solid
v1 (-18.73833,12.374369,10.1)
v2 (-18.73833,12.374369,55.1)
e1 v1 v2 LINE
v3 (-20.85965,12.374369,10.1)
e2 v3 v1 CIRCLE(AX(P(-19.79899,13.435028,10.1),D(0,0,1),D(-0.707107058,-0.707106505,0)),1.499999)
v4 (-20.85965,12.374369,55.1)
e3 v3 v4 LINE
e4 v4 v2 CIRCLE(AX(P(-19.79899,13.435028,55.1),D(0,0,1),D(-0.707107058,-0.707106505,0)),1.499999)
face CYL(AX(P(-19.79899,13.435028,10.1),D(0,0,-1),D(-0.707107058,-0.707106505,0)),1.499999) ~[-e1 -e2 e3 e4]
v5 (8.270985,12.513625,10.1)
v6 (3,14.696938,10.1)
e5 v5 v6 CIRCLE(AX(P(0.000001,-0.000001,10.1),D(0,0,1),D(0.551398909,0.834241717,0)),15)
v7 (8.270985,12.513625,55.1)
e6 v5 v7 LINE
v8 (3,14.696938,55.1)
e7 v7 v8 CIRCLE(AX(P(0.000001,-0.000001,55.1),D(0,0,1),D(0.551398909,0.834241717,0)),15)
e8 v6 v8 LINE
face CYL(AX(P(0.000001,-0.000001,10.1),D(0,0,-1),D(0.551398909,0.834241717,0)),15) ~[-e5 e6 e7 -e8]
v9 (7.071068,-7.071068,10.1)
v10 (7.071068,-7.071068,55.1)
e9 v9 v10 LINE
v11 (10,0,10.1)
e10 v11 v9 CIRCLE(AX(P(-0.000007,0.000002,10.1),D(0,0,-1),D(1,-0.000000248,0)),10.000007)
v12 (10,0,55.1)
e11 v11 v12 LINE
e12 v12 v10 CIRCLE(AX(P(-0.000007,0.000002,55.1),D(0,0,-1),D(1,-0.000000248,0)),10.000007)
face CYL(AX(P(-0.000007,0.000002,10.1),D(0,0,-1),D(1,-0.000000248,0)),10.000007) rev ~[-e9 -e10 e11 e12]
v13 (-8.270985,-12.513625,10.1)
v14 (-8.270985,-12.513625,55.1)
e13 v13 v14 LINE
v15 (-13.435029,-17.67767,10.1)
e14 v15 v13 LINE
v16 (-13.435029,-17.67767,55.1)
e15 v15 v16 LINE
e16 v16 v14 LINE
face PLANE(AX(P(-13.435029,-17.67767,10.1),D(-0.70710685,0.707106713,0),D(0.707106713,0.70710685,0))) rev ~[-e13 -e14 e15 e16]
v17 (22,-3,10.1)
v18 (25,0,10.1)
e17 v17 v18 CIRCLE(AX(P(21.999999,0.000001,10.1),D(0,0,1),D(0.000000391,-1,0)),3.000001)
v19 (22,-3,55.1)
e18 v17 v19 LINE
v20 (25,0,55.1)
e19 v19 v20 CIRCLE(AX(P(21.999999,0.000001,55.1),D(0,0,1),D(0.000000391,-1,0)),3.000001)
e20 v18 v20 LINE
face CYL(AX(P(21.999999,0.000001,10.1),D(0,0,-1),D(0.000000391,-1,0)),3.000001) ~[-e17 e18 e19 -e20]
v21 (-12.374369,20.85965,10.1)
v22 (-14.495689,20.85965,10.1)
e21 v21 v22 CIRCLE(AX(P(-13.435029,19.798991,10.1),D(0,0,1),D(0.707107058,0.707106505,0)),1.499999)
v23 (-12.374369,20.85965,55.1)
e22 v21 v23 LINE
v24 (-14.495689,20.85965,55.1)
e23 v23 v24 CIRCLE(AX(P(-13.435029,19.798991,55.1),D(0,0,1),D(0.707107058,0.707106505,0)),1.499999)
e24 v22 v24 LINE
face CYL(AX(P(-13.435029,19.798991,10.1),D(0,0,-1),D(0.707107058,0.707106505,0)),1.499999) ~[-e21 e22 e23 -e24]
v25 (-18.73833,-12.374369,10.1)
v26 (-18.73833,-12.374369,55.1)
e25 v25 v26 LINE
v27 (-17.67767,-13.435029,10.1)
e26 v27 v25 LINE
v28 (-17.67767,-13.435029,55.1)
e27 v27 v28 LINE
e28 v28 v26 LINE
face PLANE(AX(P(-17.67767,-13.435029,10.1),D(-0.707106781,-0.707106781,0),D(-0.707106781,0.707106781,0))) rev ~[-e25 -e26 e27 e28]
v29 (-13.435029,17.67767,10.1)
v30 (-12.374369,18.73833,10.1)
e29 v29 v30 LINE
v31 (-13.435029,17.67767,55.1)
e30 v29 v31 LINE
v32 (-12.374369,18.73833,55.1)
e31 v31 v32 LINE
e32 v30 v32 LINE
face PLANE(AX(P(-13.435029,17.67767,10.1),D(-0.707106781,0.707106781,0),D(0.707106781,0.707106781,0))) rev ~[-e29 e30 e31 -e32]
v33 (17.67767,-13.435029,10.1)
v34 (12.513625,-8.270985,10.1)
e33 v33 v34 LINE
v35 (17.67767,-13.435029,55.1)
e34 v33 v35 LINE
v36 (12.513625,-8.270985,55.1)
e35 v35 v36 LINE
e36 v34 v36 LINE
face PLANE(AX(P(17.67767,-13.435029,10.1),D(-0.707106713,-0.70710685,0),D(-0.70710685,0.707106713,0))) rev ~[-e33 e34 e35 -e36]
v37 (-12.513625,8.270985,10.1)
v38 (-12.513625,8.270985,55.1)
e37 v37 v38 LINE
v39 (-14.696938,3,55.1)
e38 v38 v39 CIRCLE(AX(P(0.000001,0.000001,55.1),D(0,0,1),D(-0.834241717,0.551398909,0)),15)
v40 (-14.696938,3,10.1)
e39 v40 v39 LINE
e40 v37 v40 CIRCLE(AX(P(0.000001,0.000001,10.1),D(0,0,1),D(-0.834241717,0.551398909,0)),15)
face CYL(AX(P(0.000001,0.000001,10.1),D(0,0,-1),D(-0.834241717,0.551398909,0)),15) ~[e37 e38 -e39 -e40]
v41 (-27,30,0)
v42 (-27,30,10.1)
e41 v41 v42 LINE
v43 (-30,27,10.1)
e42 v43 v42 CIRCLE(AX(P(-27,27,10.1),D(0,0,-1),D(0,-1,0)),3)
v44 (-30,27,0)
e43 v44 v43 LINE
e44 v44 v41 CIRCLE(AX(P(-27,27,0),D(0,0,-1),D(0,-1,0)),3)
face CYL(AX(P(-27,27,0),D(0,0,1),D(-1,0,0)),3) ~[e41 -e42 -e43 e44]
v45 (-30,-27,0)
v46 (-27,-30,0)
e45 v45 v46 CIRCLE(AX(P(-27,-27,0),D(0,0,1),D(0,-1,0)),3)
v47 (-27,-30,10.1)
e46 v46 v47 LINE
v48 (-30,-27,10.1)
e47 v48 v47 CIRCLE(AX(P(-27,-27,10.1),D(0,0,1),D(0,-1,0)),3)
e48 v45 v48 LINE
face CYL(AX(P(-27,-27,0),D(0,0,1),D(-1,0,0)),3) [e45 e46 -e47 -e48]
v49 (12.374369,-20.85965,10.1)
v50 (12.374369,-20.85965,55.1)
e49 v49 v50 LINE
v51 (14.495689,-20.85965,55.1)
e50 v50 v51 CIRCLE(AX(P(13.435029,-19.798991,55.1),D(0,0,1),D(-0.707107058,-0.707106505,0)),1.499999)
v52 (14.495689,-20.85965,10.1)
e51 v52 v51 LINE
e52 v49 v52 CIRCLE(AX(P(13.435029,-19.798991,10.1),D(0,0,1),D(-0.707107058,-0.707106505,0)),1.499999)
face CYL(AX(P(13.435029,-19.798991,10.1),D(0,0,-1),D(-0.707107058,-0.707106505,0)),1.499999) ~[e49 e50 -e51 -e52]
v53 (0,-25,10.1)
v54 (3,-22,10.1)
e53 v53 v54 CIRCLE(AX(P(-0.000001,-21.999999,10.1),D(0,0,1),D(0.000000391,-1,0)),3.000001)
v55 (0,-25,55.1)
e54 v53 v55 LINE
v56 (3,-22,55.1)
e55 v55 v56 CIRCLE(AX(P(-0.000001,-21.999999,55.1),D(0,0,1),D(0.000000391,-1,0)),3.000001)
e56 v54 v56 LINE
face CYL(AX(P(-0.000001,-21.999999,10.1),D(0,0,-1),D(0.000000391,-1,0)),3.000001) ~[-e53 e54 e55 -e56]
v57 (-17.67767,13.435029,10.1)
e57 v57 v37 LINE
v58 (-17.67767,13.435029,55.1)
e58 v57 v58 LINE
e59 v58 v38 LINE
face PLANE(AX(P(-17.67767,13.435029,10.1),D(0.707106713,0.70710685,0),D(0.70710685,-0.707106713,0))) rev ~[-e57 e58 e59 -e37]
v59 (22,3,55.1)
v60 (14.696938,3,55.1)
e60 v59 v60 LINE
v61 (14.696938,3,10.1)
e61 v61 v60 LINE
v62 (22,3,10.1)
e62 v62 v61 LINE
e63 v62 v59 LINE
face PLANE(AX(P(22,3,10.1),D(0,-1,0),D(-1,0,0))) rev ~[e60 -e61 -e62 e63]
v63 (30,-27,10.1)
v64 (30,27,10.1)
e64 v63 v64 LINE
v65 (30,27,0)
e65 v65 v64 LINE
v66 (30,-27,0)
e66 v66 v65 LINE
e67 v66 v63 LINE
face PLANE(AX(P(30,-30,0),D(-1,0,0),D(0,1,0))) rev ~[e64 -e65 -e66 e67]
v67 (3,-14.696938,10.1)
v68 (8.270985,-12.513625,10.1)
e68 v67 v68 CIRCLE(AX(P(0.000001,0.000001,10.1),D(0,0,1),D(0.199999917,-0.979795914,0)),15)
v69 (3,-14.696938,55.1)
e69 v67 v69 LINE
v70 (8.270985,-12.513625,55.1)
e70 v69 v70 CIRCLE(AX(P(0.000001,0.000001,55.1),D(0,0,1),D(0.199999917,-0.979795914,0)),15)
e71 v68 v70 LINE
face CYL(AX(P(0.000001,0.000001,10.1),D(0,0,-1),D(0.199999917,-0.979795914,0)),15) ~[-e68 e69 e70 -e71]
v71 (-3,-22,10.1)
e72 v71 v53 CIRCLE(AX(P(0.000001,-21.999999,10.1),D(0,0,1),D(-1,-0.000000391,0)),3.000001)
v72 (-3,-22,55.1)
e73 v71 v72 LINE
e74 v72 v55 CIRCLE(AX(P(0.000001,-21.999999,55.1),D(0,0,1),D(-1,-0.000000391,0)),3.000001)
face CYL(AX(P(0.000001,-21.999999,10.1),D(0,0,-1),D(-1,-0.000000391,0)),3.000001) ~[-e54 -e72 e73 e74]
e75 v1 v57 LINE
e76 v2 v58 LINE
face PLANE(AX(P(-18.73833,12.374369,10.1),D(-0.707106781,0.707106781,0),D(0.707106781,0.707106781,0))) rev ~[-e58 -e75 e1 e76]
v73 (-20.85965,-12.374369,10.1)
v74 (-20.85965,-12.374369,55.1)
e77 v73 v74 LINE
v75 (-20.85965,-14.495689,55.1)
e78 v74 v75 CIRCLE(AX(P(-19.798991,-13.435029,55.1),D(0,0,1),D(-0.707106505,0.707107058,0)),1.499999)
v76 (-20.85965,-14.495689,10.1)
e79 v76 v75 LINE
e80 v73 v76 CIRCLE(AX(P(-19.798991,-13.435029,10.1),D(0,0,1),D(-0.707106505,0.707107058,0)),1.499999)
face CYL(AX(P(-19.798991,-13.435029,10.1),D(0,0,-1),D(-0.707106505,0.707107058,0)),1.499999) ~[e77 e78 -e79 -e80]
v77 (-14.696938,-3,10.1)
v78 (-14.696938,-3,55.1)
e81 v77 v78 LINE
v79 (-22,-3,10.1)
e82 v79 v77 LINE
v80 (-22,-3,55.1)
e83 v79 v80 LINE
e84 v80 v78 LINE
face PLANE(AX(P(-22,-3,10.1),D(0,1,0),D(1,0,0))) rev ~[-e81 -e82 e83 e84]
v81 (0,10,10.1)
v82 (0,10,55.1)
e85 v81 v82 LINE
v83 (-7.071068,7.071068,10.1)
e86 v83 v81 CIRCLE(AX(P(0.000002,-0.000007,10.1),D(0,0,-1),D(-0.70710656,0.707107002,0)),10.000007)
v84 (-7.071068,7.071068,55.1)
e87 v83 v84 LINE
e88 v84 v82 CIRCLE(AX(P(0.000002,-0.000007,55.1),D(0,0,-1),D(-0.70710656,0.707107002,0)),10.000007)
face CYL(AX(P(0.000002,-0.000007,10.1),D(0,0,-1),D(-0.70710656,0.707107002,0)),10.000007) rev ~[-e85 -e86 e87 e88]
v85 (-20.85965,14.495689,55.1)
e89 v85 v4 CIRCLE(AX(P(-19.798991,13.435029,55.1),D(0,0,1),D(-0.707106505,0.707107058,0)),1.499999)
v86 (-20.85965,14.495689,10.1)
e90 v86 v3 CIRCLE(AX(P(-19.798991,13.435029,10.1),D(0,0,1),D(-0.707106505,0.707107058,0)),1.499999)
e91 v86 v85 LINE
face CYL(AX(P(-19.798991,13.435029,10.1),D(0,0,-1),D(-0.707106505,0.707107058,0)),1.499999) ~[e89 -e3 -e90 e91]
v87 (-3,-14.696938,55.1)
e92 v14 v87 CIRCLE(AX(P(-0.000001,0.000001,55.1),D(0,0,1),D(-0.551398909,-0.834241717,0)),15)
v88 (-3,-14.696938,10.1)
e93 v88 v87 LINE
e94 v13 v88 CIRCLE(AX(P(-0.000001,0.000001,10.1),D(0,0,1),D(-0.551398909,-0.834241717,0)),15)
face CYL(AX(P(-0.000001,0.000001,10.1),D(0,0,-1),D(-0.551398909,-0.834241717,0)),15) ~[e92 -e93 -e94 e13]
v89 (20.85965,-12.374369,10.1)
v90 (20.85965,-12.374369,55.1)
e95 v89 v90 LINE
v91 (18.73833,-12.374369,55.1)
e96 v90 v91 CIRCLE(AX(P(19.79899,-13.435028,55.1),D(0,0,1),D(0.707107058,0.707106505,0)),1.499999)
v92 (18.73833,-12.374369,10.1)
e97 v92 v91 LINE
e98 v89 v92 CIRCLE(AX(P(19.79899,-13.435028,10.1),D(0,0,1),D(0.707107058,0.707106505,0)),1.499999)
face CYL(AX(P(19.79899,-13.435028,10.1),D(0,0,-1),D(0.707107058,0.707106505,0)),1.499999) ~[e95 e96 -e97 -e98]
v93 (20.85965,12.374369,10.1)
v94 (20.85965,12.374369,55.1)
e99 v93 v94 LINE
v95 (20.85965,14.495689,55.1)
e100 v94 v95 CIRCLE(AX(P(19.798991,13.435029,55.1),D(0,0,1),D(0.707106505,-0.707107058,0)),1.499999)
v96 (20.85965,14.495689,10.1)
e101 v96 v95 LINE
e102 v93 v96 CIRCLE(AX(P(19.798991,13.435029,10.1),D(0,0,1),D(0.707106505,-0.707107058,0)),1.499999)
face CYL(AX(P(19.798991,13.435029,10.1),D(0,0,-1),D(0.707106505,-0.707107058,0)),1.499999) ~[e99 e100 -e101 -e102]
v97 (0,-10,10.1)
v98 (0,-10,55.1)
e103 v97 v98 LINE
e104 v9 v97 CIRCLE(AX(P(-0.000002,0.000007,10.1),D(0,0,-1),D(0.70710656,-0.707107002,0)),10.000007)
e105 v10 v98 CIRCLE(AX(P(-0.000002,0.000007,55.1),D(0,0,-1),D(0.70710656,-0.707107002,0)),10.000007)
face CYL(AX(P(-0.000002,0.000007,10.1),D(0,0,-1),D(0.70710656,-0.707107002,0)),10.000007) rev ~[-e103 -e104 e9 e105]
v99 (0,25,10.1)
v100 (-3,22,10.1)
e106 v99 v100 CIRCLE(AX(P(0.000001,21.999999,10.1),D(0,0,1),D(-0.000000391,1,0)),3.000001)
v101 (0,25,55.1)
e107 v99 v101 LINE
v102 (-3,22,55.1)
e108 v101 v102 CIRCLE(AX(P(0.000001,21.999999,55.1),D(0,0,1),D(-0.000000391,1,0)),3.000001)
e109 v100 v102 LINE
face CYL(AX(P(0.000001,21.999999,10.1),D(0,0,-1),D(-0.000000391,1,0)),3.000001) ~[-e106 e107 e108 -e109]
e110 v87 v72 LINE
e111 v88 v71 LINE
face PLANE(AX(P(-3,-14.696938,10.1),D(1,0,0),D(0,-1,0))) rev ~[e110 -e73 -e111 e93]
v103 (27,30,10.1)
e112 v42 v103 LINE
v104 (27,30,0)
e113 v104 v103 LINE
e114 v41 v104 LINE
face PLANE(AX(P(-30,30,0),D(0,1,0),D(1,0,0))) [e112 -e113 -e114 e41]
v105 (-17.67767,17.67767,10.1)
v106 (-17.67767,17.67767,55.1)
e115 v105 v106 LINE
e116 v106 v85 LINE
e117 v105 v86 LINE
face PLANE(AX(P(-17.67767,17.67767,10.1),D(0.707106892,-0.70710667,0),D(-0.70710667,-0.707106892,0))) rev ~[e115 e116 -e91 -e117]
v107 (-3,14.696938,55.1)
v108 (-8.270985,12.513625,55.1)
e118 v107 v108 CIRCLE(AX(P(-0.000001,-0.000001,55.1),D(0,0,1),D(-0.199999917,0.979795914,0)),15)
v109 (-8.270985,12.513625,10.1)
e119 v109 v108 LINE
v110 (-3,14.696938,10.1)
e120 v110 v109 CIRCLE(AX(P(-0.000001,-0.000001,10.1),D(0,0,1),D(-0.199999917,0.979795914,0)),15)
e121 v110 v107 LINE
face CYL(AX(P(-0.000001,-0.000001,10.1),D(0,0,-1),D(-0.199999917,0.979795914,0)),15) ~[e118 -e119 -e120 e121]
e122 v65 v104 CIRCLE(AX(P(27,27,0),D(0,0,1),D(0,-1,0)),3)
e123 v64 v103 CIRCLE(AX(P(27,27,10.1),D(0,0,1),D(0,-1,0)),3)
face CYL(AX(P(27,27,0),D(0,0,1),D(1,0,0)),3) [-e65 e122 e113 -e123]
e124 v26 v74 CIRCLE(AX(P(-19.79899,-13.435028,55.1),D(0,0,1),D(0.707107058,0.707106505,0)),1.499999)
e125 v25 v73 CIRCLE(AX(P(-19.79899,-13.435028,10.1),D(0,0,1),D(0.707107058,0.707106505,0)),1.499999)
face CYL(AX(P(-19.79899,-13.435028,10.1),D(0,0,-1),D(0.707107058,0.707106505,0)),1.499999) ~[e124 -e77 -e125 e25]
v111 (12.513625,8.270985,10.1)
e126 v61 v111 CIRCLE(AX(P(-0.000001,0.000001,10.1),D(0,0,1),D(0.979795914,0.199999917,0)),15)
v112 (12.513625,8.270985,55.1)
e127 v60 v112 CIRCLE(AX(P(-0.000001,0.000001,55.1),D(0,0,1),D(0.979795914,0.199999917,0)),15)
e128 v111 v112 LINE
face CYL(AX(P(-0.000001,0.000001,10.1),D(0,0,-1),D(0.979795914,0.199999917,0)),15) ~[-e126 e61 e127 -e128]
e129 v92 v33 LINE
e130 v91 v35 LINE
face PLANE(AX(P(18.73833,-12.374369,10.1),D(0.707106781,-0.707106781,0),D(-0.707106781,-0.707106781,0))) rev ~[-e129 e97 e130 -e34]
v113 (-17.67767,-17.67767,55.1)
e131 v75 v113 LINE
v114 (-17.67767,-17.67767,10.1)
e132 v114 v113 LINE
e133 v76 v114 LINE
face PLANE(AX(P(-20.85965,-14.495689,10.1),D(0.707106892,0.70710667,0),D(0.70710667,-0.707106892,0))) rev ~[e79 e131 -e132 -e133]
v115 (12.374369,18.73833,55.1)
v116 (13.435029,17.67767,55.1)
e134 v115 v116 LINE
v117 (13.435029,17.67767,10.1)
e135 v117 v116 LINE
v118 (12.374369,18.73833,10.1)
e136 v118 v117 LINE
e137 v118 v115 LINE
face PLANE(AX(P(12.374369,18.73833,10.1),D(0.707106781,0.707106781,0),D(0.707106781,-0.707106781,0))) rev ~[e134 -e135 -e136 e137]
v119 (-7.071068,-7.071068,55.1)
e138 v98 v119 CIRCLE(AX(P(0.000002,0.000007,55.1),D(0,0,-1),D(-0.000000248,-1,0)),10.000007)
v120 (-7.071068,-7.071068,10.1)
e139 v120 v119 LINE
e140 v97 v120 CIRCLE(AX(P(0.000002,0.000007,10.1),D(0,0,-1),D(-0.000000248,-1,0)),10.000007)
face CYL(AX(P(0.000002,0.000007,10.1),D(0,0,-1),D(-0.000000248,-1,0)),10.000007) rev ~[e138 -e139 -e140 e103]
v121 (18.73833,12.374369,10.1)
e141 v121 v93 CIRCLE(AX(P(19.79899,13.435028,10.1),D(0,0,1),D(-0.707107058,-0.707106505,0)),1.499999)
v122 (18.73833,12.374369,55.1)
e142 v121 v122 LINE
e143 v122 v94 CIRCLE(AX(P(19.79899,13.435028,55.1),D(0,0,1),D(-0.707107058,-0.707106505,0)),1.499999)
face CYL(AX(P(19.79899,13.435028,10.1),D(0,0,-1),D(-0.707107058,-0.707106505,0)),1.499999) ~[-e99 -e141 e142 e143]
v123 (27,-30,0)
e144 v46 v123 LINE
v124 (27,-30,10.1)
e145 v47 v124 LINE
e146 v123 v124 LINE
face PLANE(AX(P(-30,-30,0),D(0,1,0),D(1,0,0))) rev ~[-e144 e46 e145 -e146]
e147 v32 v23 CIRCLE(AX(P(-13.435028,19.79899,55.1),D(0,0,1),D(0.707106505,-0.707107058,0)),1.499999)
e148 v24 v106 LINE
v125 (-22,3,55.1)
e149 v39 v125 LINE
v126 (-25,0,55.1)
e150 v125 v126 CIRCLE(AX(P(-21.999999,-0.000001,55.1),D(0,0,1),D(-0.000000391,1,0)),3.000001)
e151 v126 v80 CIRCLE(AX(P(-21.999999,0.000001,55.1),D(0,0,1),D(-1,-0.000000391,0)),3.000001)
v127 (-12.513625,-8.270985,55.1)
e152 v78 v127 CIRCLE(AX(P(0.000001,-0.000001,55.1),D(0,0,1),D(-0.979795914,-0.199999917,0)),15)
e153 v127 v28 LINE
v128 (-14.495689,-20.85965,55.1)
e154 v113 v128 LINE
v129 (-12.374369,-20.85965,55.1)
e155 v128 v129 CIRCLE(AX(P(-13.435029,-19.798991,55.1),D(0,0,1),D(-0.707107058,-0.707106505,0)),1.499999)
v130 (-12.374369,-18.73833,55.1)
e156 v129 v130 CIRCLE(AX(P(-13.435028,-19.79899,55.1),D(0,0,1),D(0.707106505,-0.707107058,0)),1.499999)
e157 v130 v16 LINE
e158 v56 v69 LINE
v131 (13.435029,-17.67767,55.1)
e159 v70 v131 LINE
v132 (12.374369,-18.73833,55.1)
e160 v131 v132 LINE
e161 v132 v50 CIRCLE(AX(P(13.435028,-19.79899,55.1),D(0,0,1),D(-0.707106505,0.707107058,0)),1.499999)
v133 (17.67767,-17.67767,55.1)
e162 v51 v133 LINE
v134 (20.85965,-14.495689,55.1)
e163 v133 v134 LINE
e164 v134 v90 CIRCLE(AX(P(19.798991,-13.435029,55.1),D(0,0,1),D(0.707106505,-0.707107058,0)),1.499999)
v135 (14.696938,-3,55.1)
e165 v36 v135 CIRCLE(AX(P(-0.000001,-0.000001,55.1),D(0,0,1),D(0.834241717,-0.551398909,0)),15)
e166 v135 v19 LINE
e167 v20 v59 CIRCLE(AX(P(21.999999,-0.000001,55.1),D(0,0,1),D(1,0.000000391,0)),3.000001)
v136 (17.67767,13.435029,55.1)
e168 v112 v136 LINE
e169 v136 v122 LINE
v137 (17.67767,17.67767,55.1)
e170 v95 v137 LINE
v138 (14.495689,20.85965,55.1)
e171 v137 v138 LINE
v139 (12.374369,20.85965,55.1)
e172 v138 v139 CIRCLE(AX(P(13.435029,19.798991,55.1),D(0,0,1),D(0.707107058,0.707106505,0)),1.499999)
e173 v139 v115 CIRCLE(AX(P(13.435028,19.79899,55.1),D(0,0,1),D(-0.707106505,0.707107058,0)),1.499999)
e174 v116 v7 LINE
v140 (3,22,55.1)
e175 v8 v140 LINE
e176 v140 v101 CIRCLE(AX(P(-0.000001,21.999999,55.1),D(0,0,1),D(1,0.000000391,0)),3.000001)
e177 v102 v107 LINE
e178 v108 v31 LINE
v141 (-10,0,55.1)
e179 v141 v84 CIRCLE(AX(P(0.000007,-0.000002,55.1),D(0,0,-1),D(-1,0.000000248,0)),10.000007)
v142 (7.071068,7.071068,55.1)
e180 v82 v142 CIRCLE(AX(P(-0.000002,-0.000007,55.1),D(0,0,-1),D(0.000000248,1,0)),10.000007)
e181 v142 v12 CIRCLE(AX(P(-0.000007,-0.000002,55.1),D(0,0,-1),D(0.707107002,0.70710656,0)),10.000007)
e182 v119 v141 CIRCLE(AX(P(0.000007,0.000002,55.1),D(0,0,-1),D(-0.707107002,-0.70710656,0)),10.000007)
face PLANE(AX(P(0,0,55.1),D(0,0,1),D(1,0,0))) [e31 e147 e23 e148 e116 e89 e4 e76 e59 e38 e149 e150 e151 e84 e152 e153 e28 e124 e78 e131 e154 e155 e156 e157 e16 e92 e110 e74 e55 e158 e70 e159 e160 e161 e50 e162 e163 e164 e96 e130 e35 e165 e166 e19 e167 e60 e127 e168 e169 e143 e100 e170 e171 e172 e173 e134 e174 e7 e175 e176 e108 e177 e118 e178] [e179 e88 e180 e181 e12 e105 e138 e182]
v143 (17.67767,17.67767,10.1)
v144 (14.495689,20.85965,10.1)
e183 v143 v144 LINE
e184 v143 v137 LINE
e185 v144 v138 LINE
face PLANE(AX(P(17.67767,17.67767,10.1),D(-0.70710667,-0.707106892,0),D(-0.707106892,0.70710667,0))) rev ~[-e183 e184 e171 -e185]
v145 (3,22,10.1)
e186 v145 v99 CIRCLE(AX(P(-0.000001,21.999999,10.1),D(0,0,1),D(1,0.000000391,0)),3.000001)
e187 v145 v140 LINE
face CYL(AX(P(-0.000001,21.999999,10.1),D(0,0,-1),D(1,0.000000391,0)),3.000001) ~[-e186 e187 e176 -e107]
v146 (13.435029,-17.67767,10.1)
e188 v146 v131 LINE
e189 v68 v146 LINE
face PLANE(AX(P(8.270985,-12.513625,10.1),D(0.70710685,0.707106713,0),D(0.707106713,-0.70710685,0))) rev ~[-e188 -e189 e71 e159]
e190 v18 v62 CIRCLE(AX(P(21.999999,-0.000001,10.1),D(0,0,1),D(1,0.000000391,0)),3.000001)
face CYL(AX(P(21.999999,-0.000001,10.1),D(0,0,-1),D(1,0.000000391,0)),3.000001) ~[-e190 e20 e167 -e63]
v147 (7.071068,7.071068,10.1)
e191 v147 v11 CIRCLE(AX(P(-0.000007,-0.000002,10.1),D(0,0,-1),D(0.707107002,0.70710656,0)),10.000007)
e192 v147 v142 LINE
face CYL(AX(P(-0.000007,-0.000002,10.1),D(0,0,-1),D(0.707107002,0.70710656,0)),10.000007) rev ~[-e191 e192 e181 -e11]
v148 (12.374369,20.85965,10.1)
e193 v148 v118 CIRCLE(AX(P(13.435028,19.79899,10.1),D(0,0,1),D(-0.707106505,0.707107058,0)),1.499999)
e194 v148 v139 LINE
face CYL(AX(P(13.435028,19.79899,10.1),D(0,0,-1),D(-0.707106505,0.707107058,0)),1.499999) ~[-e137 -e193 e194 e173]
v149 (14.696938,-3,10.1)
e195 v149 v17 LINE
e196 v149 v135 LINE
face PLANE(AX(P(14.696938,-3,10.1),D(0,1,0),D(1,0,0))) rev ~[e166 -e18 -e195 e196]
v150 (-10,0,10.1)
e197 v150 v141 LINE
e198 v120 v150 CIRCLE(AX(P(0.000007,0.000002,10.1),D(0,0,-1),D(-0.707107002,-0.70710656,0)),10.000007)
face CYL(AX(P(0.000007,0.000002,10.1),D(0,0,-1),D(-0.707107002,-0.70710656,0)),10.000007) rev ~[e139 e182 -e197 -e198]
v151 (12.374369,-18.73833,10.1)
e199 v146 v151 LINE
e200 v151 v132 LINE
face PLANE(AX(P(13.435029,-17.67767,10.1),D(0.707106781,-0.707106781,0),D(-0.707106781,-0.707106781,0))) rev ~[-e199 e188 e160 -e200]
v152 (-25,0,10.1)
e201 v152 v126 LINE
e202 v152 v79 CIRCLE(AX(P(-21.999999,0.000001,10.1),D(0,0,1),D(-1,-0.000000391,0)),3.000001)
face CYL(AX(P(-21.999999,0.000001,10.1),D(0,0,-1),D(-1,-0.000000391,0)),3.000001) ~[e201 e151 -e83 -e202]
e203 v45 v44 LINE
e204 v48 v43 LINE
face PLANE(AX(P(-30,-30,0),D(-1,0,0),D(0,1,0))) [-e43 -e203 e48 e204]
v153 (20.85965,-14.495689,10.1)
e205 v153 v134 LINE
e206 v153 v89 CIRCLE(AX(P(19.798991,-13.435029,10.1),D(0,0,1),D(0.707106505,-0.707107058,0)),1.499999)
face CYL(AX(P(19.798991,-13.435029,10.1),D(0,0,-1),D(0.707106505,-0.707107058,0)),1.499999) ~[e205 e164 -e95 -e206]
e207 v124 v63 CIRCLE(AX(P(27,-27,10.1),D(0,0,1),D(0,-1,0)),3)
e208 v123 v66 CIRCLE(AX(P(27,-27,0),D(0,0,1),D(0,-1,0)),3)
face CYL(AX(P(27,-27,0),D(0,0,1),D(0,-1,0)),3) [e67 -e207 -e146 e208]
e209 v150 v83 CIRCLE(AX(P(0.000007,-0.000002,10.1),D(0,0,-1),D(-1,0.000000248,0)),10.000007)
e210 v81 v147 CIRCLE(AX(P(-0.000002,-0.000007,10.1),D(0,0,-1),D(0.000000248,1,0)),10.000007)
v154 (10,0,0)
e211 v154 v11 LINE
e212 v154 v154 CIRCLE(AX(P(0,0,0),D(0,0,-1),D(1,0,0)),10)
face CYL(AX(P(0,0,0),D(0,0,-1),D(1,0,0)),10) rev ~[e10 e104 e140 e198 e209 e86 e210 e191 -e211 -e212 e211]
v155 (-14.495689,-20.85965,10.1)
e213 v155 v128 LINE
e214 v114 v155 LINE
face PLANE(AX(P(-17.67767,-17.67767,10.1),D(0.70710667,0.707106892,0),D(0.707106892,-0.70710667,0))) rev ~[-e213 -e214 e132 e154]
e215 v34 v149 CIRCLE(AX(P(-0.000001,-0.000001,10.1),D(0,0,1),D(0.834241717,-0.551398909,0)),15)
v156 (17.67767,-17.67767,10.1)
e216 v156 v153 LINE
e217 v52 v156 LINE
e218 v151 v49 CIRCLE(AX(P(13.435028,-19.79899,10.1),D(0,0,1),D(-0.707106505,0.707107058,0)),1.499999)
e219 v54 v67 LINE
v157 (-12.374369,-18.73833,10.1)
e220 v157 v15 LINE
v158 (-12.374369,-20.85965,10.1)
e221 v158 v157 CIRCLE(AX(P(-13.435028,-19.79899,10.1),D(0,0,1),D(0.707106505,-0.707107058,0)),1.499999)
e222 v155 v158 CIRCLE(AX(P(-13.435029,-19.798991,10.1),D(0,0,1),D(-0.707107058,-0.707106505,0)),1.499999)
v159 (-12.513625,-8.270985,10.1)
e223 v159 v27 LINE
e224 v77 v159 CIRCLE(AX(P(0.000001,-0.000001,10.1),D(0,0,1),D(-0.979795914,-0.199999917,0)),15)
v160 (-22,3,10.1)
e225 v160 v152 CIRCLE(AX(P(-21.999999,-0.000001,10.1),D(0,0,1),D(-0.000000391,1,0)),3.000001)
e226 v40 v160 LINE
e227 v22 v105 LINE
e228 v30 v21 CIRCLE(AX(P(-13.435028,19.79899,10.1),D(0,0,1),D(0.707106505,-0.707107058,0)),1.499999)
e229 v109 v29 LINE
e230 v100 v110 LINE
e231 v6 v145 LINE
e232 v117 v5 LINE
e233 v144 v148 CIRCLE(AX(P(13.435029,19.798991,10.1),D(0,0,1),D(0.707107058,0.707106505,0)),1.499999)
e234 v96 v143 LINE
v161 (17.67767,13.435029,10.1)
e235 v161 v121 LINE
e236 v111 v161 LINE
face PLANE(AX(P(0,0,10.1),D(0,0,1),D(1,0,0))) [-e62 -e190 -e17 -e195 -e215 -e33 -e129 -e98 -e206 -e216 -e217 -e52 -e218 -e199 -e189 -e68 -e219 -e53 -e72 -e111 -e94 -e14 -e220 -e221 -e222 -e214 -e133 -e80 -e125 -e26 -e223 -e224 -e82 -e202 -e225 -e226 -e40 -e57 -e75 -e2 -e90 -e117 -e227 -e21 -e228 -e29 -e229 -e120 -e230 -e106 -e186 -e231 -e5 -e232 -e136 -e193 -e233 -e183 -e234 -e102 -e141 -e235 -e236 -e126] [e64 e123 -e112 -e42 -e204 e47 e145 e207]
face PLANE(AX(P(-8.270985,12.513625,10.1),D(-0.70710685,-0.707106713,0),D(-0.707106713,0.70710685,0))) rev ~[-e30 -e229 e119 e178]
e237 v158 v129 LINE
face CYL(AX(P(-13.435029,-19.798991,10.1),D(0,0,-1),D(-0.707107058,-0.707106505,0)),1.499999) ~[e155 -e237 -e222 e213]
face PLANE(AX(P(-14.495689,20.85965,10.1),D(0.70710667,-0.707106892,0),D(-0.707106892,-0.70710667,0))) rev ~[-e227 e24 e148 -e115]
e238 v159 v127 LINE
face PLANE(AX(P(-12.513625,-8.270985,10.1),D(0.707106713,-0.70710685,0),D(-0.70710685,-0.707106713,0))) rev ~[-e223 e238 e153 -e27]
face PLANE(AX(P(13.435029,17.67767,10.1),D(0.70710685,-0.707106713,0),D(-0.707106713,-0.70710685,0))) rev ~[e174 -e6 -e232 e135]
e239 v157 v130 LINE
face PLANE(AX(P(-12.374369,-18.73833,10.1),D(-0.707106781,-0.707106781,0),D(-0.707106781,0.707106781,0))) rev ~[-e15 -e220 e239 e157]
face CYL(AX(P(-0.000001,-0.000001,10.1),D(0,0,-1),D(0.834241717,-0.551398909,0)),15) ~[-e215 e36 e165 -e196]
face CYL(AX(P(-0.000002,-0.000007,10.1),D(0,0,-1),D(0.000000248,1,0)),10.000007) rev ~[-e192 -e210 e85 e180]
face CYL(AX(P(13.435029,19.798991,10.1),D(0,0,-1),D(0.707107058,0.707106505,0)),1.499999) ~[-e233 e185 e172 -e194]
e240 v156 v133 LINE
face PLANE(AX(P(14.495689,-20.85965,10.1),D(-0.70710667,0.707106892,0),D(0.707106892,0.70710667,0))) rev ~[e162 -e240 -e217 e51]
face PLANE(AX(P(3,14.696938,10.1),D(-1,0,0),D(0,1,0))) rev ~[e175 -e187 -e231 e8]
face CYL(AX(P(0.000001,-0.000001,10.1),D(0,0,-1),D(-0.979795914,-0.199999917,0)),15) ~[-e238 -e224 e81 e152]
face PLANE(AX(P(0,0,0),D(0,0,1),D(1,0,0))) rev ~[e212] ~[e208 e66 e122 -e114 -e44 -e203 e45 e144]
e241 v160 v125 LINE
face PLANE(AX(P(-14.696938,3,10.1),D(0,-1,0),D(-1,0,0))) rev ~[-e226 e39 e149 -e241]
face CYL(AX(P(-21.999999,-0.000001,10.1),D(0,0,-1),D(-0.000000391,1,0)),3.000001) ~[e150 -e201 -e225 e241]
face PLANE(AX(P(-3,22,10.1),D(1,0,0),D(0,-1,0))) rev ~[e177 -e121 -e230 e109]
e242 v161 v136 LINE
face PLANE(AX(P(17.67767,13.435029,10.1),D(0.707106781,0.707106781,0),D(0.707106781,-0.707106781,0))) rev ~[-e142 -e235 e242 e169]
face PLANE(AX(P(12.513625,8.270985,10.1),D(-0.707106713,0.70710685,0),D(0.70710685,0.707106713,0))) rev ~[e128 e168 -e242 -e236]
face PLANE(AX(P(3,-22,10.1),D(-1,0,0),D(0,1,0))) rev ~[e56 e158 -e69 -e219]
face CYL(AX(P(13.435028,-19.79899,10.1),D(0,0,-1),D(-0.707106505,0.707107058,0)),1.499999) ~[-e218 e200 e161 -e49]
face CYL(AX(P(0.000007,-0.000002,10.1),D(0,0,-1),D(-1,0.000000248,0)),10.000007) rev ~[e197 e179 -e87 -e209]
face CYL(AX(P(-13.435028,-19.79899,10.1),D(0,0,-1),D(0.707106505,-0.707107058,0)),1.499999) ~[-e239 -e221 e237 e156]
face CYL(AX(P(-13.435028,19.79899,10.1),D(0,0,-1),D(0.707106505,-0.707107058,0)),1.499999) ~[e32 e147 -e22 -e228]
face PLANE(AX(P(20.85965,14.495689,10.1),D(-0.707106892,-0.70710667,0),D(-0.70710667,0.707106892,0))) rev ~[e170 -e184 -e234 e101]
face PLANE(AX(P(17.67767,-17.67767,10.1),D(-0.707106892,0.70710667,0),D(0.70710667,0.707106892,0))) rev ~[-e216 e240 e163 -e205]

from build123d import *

# Parameters (mm, degrees)
F0_W     = 60
F0_H     = 60
F1_DEPTH = 10.1
F2_R     = 3
F4_DEPTH = 45
F5_R     = 10
F6_DEPTH = 10.1


with BuildPart() as f1:
    # F0 (on Top) → F1 (new body)
    with BuildSketch(Plane.XY):
        Rectangle(F0_W, F0_H)
    extrude(amount=F1_DEPTH)

    # F2
    f2_edges = [f1.edges().sort_by_distance(p)[0] for p in [
        (30, -30, 5.05),
        (30, 30, 5.05),
        (-30, -30, 5.05),
        (-30, 30, 5.05),
    ]]
    fillet(f2_edges, radius=F2_R)

    # F3 (on face) → F4 (join)
    with BuildSketch(Plane.XY.offset(10.1)):
        with BuildLine():
            Line((-17.67767, 13.435029), (-12.513625, 8.270985))
            ThreePointArc((-12.513625, 8.270985), (-13.858193, 5.740251), (-14.696938, 3))
            Line((-14.696938, 3), (-22, 3))
            ThreePointArc((-22, 3), (-24.12132, 2.12132), (-25, 0))
            ThreePointArc((-25, 0), (-24.12132, -2.12132), (-22, -3))
            Line((-22, -3), (-14.696938, -3))
            ThreePointArc((-14.696938, -3), (-13.858193, -5.740251), (-12.513625, -8.270985))
            Line((-12.513625, -8.270985), (-17.67767, -13.435029))
            Line((-17.67767, -13.435029), (-18.73833, -12.374369))
            ThreePointArc((-18.73833, -12.374369), (-19.79899, -11.935029), (-20.85965, -12.374369))
            ThreePointArc((-20.85965, -12.374369), (-21.29899, -13.435029), (-20.85965, -14.495689))
            Line((-20.85965, -14.495689), (-17.67767, -17.67767))
            Line((-17.67767, -17.67767), (-14.495689, -20.85965))
            ThreePointArc((-14.495689, -20.85965), (-13.435029, -21.29899), (-12.374369, -20.85965))
            ThreePointArc((-12.374369, -20.85965), (-11.935029, -19.79899), (-12.374369, -18.73833))
            Line((-12.374369, -18.73833), (-13.435029, -17.67767))
            Line((-13.435029, -17.67767), (-8.270985, -12.513625))
            ThreePointArc((-8.270985, -12.513625), (-5.740251, -13.858193), (-3, -14.696938))
            Line((-3, -14.696938), (-3, -22))
            ThreePointArc((-3, -22), (-2.12132, -24.12132), (0, -25))
            ThreePointArc((0, -25), (2.12132, -24.12132), (3, -22))
            Line((3, -22), (3, -14.696938))
            ThreePointArc((3, -14.696938), (5.740251, -13.858193), (8.270985, -12.513625))
            Line((8.270985, -12.513625), (13.435029, -17.67767))
            Line((13.435029, -17.67767), (12.374369, -18.73833))
            ThreePointArc((12.374369, -18.73833), (11.935029, -19.79899), (12.374369, -20.85965))
            ThreePointArc((12.374369, -20.85965), (13.435029, -21.29899), (14.495689, -20.85965))
            Line((14.495689, -20.85965), (17.67767, -17.67767))
            Line((17.67767, -17.67767), (20.85965, -14.495689))
            ThreePointArc((20.85965, -14.495689), (21.29899, -13.435029), (20.85965, -12.374369))
            ThreePointArc((20.85965, -12.374369), (19.79899, -11.935029), (18.73833, -12.374369))
            Line((18.73833, -12.374369), (17.67767, -13.435029))
            Line((17.67767, -13.435029), (12.513625, -8.270985))
            ThreePointArc((12.513625, -8.270985), (13.858193, -5.740251), (14.696938, -3))
            Line((14.696938, -3), (22, -3))
            ThreePointArc((22, -3), (24.12132, -2.12132), (25, 0))
            ThreePointArc((25, 0), (24.12132, 2.12132), (22, 3))
            Line((22, 3), (14.696938, 3))
            ThreePointArc((14.696938, 3), (13.858193, 5.740251), (12.513625, 8.270985))
            Line((12.513625, 8.270985), (17.67767, 13.435029))
            Line((17.67767, 13.435029), (18.73833, 12.374369))
            ThreePointArc((18.73833, 12.374369), (19.79899, 11.935029), (20.85965, 12.374369))
            ThreePointArc((20.85965, 12.374369), (21.29899, 13.435029), (20.85965, 14.495689))
            Line((20.85965, 14.495689), (17.67767, 17.67767))
            Line((17.67767, 17.67767), (14.495689, 20.85965))
            ThreePointArc((14.495689, 20.85965), (13.435029, 21.29899), (12.374369, 20.85965))
            ThreePointArc((12.374369, 20.85965), (11.935029, 19.79899), (12.374369, 18.73833))
            Line((12.374369, 18.73833), (13.435029, 17.67767))
            Line((13.435029, 17.67767), (8.270985, 12.513625))
            ThreePointArc((8.270985, 12.513625), (5.740251, 13.858193), (3, 14.696938))
            Line((3, 14.696938), (3, 22))
            ThreePointArc((3, 22), (2.12132, 24.12132), (0, 25))
            ThreePointArc((0, 25), (-2.12132, 24.12132), (-3, 22))
            Line((-3, 22), (-3, 14.696938))
            ThreePointArc((-3, 14.696938), (-5.740251, 13.858193), (-8.270985, 12.513625))
            Line((-8.270985, 12.513625), (-13.435029, 17.67767))
            Line((-13.435029, 17.67767), (-12.374369, 18.73833))
            ThreePointArc((-12.374369, 18.73833), (-11.935029, 19.79899), (-12.374369, 20.85965))
            ThreePointArc((-12.374369, 20.85965), (-13.435029, 21.29899), (-14.495689, 20.85965))
            Line((-14.495689, 20.85965), (-17.67767, 17.67767))
            Line((-17.67767, 17.67767), (-20.85965, 14.495689))
            ThreePointArc((-20.85965, 14.495689), (-21.29899, 13.435029), (-20.85965, 12.374369))
            ThreePointArc((-20.85965, 12.374369), (-19.79899, 11.935029), (-18.73833, 12.374369))
            Line((-18.73833, 12.374369), (-17.67767, 13.435029))
        make_face()
        with BuildLine():
            ThreePointArc((-10, 0), (-9.238795, 3.826834), (-7.071068, 7.071068))
            ThreePointArc((-7.071068, 7.071068), (-3.826834, 9.238795), (0, 10))
            ThreePointArc((0, 10), (3.826834, 9.238795), (7.071068, 7.071068))
            ThreePointArc((7.071068, 7.071068), (9.238795, 3.826834), (10, 0))
            ThreePointArc((10, 0), (9.238795, -3.826834), (7.071068, -7.071068))
            ThreePointArc((7.071068, -7.071068), (3.826834, -9.238795), (0, -10))
            ThreePointArc((0, -10), (-3.826834, -9.238795), (-7.071068, -7.071068))
            ThreePointArc((-7.071068, -7.071068), (-9.238795, -3.826834), (-10, 0))
        make_face(mode=Mode.SUBTRACT)
    extrude(amount=F4_DEPTH)

    # F5 (on face) → F6 (cut, through all)
    with BuildSketch(Plane(origin=(0, 0, 0), x_dir=(1, 0, 0), z_dir=(0, 0, -1))):
        Circle(F5_R)
    extrude(amount=-F6_DEPTH, mode=Mode.SUBTRACT)


solid = f1.part
